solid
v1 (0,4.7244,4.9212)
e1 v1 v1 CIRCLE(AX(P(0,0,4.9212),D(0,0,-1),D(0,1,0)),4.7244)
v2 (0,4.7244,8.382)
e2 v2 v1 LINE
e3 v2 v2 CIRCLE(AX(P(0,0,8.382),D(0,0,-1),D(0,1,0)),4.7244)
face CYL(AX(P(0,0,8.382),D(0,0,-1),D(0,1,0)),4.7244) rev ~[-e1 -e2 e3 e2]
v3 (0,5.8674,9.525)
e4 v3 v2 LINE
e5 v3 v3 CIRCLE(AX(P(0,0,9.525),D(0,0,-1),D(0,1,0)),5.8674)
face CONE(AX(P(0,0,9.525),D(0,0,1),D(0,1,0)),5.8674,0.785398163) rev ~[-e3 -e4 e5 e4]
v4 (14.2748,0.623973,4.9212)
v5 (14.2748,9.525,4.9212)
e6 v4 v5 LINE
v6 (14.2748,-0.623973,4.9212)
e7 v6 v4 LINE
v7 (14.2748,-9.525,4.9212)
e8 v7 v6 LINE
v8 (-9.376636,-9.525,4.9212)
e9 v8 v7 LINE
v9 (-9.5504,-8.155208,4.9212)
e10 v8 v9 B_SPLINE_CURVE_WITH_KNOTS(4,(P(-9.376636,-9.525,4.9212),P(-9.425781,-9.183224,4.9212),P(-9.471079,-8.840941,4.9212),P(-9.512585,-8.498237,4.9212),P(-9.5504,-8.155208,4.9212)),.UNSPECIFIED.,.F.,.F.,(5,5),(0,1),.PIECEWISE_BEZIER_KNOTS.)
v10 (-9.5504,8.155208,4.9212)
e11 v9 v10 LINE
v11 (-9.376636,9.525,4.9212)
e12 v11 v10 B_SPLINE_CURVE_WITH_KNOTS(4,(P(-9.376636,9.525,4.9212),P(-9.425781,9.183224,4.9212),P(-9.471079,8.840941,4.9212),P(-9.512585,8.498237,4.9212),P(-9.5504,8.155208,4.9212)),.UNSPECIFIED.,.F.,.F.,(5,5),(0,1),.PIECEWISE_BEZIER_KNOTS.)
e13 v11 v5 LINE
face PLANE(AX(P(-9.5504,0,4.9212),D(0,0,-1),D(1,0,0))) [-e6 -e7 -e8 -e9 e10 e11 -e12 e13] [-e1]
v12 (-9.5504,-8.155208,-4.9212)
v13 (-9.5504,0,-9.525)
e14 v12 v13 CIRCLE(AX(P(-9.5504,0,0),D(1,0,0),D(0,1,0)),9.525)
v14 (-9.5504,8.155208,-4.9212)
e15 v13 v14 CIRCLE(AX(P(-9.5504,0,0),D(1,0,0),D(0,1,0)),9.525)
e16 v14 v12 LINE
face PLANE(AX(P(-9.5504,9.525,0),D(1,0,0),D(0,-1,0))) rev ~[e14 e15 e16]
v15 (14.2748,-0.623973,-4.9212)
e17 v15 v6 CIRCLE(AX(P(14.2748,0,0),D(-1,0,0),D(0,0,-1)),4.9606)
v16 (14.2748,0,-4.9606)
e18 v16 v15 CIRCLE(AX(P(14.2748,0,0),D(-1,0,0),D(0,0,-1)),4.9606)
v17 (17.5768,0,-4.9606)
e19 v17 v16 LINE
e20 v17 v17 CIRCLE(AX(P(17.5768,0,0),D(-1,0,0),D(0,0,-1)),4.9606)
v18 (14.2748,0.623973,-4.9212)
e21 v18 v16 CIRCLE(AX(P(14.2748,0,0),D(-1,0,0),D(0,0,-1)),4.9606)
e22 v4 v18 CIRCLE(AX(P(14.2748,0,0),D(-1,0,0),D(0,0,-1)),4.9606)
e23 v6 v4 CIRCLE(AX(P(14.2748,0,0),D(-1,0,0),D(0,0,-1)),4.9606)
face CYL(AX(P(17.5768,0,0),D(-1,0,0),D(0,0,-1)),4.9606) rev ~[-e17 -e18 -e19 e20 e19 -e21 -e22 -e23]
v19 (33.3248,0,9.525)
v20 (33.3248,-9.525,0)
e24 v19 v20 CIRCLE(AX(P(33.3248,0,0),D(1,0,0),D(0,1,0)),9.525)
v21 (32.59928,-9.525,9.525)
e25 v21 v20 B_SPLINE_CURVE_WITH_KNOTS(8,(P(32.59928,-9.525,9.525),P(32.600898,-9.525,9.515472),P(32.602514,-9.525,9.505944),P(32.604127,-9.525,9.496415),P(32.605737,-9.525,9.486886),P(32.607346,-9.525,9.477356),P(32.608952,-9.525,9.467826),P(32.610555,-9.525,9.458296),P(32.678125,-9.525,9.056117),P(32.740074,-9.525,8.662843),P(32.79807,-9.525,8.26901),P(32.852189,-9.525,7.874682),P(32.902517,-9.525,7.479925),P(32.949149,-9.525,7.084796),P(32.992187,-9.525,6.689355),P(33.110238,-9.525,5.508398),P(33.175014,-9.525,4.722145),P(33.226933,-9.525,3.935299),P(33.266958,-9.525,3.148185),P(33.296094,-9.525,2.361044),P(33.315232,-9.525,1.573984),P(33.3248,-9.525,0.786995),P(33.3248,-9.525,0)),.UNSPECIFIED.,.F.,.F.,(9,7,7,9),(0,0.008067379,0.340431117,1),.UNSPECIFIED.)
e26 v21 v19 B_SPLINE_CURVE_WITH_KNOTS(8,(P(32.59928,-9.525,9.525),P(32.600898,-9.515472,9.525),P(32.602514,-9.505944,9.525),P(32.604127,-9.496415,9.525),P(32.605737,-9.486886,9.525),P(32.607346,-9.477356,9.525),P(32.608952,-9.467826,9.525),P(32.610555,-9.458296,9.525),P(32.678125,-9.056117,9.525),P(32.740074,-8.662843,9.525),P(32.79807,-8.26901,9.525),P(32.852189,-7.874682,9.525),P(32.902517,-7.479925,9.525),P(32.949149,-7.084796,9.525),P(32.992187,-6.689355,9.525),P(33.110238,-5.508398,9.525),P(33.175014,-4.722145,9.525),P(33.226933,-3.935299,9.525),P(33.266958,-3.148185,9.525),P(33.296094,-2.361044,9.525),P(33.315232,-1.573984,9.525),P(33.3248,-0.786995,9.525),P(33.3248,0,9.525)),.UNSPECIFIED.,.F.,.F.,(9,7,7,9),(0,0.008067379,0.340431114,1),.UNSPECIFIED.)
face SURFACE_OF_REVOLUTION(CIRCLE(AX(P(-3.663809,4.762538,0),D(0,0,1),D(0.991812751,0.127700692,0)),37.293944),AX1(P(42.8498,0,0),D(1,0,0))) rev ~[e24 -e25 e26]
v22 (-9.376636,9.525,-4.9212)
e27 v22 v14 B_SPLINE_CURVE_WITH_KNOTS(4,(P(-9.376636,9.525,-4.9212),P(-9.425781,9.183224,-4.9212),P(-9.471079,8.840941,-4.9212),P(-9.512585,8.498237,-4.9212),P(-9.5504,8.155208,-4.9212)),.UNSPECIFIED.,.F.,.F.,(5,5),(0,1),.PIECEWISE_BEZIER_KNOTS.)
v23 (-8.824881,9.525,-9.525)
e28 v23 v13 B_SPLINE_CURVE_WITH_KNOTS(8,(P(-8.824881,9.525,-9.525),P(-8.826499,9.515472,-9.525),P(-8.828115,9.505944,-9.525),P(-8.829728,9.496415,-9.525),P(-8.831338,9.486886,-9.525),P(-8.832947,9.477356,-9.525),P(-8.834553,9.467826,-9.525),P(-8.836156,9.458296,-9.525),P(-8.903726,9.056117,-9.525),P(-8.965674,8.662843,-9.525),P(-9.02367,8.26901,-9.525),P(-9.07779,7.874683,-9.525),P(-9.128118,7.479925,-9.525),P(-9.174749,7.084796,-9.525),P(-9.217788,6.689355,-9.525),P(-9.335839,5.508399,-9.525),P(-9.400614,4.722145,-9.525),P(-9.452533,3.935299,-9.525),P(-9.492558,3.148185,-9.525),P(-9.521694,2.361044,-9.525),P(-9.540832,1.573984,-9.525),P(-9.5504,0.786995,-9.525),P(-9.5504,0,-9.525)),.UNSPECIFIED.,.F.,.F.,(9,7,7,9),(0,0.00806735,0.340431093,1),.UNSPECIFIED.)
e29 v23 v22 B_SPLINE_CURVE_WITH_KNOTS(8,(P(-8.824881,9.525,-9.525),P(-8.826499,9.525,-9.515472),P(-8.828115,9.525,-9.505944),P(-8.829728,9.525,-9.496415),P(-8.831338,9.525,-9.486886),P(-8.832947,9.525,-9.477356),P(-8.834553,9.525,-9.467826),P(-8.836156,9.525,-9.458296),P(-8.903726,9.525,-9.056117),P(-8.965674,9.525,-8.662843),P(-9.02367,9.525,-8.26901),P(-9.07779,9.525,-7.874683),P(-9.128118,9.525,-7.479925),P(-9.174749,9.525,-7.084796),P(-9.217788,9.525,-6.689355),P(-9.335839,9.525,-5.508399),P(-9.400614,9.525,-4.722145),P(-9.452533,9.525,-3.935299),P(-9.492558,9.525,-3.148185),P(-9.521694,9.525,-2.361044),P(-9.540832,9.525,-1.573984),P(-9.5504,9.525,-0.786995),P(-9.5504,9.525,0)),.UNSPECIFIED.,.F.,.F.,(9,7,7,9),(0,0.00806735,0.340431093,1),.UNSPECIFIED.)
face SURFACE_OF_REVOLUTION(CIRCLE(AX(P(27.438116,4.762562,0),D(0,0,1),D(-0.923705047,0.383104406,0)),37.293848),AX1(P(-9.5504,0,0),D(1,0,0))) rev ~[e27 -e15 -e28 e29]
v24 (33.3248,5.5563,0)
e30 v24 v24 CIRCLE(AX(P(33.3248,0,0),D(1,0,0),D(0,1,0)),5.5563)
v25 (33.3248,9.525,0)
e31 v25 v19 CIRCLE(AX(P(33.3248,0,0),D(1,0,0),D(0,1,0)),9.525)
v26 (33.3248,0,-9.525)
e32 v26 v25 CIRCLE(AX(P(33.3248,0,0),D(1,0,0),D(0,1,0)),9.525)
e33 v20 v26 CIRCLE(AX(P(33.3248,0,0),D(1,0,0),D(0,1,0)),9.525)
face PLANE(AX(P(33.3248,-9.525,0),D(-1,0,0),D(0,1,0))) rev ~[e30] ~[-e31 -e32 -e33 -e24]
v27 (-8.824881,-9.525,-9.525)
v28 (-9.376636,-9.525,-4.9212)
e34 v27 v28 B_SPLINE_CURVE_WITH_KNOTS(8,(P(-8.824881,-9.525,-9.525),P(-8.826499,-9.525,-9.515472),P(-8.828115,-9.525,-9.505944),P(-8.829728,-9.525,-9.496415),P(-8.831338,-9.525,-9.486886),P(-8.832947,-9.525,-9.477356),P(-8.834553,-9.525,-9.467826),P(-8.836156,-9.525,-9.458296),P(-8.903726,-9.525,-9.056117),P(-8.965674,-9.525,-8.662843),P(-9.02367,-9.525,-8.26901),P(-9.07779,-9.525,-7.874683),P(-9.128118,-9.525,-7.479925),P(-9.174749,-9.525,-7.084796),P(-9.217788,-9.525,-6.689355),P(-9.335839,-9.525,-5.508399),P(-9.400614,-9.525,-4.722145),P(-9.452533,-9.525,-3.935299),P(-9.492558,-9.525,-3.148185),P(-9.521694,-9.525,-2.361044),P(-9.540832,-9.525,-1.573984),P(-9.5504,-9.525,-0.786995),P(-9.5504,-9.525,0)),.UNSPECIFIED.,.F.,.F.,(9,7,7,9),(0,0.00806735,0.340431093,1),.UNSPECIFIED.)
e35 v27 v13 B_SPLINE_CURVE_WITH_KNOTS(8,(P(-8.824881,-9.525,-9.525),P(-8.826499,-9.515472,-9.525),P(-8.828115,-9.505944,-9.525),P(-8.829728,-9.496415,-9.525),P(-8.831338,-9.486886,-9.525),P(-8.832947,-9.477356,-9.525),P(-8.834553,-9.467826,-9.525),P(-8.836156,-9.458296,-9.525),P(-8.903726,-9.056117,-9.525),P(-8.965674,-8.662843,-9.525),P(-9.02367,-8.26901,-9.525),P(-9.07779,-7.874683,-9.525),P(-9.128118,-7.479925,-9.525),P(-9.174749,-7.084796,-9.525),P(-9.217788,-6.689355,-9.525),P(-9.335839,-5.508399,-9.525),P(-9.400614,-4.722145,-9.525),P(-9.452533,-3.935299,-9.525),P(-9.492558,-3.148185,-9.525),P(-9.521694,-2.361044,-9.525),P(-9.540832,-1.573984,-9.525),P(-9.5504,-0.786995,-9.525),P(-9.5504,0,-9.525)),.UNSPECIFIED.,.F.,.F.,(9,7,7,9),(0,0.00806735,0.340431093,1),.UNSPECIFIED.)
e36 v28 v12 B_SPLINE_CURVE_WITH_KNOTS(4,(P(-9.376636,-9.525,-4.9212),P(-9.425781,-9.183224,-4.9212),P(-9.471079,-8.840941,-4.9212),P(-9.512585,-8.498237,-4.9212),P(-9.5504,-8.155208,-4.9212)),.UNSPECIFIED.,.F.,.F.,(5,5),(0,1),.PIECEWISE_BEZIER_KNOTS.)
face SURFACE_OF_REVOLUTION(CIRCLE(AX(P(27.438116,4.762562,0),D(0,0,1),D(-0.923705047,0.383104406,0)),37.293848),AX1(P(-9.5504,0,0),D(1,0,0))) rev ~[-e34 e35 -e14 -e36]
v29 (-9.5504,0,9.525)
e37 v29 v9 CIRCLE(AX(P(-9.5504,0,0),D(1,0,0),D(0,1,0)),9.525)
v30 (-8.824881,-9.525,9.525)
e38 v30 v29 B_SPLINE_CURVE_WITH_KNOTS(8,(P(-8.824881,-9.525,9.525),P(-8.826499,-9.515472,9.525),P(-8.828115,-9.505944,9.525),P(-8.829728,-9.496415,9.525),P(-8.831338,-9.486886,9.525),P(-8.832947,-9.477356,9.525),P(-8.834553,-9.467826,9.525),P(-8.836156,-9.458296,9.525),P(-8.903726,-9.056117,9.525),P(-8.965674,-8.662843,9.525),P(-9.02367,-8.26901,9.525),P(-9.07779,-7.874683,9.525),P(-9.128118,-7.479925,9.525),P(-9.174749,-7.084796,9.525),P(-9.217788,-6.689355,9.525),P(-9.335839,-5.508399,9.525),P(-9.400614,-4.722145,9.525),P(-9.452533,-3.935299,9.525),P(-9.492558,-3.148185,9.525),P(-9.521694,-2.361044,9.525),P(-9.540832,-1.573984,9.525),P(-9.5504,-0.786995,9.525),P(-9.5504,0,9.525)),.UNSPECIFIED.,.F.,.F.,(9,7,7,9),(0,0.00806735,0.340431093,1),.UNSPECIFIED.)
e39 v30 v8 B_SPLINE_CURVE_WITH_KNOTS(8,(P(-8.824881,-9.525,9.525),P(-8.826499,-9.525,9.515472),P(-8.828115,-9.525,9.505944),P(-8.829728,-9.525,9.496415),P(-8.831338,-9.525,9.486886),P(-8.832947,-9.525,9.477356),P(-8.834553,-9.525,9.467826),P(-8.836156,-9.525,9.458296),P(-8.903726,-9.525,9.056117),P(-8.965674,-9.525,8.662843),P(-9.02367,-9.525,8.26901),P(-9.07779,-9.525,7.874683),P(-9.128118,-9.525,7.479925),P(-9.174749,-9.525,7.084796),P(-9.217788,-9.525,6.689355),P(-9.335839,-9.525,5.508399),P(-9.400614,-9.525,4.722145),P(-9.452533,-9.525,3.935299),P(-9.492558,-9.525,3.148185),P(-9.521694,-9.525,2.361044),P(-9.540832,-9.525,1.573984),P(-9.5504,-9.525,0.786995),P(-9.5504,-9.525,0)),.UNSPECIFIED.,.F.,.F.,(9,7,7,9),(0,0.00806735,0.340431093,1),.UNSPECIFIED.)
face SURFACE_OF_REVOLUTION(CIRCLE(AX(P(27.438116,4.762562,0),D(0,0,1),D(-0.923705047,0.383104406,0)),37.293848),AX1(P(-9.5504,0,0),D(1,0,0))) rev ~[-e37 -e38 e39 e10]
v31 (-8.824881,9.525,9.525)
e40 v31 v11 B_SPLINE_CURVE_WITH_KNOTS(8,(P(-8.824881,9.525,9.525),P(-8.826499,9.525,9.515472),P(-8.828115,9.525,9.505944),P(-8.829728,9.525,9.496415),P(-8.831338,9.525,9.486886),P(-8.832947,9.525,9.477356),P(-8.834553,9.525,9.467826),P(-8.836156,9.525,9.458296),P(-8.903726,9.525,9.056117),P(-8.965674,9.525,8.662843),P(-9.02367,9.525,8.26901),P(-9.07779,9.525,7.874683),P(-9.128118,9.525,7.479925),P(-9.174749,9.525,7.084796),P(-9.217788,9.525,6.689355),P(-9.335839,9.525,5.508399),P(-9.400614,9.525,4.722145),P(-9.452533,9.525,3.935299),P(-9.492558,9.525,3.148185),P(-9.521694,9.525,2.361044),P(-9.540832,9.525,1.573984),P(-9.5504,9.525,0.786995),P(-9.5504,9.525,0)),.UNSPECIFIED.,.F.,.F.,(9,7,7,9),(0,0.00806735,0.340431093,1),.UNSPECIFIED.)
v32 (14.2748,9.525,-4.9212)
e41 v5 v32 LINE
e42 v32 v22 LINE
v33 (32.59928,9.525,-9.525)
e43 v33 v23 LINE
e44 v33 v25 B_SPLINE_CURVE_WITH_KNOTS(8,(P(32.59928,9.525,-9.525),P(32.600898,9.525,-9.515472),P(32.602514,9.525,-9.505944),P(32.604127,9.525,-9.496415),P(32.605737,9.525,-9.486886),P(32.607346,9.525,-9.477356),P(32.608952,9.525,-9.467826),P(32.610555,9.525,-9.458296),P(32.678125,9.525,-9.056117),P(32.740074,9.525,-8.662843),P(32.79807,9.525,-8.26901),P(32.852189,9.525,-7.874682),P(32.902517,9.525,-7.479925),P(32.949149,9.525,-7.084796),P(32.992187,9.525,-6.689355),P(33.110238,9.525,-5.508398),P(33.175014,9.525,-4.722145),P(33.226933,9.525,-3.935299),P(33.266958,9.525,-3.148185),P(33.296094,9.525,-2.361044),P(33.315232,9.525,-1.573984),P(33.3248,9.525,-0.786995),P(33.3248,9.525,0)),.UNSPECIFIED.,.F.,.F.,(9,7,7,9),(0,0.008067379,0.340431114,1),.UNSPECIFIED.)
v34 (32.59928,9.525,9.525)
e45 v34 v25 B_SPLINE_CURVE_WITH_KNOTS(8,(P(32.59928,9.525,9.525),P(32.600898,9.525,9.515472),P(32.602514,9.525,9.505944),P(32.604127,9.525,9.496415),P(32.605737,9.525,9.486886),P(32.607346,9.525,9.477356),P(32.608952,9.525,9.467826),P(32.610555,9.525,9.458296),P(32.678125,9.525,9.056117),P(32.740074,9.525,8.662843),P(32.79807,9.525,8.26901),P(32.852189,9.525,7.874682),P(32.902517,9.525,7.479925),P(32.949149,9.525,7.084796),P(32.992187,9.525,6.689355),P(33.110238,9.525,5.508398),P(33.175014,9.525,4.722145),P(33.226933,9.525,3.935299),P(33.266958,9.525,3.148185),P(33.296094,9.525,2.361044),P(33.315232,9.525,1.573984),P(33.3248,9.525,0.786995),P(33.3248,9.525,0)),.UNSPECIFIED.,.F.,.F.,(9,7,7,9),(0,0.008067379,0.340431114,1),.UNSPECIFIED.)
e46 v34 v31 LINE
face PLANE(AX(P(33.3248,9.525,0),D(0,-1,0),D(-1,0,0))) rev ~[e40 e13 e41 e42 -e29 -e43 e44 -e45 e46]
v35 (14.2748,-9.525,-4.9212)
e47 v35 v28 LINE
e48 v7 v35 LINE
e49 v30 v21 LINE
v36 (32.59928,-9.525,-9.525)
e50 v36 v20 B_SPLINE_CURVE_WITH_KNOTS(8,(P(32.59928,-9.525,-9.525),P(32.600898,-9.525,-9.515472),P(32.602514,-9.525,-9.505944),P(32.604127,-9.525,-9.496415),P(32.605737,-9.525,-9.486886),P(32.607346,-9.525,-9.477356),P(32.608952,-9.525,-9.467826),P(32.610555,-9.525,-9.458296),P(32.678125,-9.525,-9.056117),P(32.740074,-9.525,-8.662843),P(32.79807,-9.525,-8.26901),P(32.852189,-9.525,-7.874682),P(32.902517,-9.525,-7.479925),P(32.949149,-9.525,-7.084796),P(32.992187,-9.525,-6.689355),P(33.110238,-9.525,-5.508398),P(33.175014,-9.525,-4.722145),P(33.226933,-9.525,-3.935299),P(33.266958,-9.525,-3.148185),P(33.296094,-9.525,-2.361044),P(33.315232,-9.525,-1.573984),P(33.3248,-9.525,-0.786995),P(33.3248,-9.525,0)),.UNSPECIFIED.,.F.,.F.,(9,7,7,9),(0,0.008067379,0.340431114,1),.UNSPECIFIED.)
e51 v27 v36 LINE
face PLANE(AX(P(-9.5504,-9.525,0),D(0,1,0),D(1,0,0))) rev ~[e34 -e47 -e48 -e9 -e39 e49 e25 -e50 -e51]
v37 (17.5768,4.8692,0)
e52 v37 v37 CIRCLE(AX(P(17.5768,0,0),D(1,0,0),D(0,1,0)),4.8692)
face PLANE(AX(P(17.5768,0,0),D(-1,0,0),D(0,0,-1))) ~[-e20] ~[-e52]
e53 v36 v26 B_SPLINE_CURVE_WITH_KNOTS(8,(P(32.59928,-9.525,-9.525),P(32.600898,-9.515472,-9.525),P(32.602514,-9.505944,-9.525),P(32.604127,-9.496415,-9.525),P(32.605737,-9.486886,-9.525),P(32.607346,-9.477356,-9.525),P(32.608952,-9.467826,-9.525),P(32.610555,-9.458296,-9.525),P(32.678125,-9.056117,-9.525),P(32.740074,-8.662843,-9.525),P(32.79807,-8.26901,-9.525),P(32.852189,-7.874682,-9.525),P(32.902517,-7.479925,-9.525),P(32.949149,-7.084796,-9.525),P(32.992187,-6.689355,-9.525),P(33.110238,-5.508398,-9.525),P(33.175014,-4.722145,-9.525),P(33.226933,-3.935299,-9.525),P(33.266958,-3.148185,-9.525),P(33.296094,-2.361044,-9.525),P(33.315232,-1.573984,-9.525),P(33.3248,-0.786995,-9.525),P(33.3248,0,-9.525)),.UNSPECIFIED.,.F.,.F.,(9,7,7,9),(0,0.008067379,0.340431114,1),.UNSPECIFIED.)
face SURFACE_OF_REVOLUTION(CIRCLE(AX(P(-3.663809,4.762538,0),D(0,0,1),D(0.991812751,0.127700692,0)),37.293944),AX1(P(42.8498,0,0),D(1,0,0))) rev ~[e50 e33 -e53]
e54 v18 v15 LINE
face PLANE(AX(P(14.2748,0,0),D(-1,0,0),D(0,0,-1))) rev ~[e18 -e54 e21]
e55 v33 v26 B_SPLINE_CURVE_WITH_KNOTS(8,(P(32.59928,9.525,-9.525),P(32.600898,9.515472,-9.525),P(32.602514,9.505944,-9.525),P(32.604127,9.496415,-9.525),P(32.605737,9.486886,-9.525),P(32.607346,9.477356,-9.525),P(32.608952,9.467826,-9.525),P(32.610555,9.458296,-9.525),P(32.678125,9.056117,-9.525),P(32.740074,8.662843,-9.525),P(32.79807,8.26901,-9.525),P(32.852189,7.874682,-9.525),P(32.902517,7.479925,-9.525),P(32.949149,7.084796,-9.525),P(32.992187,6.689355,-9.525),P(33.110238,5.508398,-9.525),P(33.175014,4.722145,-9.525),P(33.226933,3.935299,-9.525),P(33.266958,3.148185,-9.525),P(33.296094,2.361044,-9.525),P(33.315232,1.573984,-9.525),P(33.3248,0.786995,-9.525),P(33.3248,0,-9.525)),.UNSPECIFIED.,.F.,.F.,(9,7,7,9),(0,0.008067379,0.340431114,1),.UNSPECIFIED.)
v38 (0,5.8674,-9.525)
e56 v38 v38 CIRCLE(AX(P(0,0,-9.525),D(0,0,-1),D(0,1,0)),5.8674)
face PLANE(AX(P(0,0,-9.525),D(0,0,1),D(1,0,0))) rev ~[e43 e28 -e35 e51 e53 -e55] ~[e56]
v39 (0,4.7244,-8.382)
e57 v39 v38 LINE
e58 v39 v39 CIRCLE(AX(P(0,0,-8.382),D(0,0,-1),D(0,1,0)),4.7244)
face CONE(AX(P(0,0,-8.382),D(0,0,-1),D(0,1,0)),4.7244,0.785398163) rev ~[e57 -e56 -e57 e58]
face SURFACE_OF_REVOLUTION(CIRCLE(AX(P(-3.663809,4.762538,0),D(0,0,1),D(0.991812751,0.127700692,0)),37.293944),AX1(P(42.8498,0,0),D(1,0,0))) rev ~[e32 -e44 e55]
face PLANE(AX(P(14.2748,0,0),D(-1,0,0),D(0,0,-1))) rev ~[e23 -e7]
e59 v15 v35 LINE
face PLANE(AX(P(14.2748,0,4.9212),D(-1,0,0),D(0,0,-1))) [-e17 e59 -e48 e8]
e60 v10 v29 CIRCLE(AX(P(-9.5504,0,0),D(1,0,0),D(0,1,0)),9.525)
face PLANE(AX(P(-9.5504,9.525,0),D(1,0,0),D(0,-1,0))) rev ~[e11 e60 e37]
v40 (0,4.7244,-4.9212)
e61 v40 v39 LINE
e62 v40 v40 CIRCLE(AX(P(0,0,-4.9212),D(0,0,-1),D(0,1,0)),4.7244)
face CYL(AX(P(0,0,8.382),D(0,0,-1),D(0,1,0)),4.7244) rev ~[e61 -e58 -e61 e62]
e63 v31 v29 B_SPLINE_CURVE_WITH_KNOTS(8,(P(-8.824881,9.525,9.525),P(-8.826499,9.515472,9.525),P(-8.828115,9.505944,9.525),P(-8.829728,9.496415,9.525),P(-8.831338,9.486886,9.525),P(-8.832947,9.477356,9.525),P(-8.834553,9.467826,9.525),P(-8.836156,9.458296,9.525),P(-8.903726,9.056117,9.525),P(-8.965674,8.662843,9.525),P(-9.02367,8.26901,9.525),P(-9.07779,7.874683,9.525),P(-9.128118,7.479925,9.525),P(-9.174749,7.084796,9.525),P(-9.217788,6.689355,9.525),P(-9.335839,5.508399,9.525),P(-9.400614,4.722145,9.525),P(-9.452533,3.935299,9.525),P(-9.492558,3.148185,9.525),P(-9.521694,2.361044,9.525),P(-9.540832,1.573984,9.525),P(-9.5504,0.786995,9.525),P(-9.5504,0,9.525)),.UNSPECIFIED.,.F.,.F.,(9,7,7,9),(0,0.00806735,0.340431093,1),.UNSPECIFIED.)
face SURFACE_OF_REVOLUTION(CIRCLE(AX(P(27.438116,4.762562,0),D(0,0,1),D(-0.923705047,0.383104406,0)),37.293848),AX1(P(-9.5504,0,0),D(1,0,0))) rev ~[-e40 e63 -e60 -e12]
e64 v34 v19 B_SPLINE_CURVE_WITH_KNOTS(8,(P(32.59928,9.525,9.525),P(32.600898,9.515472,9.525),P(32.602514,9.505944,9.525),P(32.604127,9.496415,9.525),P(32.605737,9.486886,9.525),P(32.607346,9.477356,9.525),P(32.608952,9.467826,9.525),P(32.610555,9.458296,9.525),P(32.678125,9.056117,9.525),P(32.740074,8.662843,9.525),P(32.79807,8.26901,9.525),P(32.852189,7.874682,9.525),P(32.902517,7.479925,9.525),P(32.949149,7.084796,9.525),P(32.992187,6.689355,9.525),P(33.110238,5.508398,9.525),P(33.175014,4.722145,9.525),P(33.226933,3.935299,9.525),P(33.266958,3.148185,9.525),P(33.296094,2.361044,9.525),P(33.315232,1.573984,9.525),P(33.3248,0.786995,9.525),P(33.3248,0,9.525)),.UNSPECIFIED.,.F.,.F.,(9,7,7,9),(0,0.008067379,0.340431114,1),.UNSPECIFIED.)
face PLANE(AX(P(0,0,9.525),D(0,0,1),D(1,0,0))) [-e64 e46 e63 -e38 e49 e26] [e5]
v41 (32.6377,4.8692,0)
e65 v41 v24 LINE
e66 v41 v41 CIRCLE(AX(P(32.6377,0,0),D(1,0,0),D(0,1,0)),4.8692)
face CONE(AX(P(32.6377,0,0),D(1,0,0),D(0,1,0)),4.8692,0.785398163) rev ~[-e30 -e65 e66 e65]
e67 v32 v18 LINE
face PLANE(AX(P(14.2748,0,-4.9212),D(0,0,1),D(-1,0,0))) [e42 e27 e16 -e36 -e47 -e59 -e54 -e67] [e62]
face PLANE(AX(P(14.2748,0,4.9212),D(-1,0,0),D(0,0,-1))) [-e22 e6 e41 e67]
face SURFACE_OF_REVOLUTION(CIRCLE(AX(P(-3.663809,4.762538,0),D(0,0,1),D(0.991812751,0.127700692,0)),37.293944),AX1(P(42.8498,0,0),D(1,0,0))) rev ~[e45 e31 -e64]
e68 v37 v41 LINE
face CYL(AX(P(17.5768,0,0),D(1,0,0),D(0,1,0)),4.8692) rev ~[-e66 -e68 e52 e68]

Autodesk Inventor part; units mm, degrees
sketch "Sketch_1" plane through (0, 0, 0) normal (0, 0, 1) x (1, 0, 0)
  line L0 (-9.5504, -9.525) -> (33.3248, -9.525)
  line L1 (33.3248, -9.525) -> (33.3248, 9.525)
  line L2 (33.3248, 9.525) -> (-9.5504, 9.525)
  line L3 (-9.5504, 9.525) -> (-9.5504, -9.525)
extrude "Extrusion1" add sketch "Sketch_1" along normal mid plane 19.05
sketch "Sketch_2" plane through (0, 0, 0) normal (0, 1, 0) x (-1, 0, 0)
  line L0 (9.5504, 4.9212) -> (-14.2748, 4.9212)
  line L1 (-14.2748, 4.9212) -> (-14.2748, -4.9212)
  line L2 (-14.2748, -4.9212) -> (9.5504, -4.9212)
  line L3 (9.5504, -4.9212) -> (9.5504, 4.9212)
extrude "Extrusion2" cut sketch "Sketch_2" along normal mid plane 19.05
sketch "Sketch_3" plane through (0, 0, 0) normal (0, 0, 1) x (1, 0, 0)
  line L0 (33.3248, 0) -> (17.5768, 0)
  line L1 (17.5768, 0) -> (17.5768, 4.8692)
  line L2 (17.5768, 4.8692) -> (32.6377, 4.8692)
  line L3 (32.6377, 4.8692) -> (33.3248, 5.5563)
  line L4 (33.3248, 5.5563) -> (33.3248, 0)
  line L5 (33.3248, 0) -> (17.5768, 0)
revolve "Revolution1" cut sketch "Sketch_3" angle 360 about axis through (33.3248, 0, 0) along (1, 0, 0)
thread "Thread1" size "7/16-20 UNF" class "2B" standard "ANSI Unified Screw Threads" full length
sketch "Sketch5" plane through (17.5768, 0, 0) normal (1, 0, 0) x (0, 0, -1)
  point P0 (0, 0)
hole "Hole1" at (17.5768, 0, 0) direction (-1, 0, 0) diameter 9.9212 depth 3.302
sketch "Sketch_5" plane through (0, 0, 0) normal (1, 0, 0) x (0, 1, 0)
  line L0 (0, -9.525) -> (0, 9.525)
  line L1 (0, 9.525) -> (5.8674, 9.525)
  line L2 (5.8674, 9.525) -> (4.7244, 8.382)
  line L3 (4.7244, 8.382) -> (4.7244, -8.382)
  line L4 (4.7244, -8.382) -> (5.8674, -9.525)
  line L5 (5.8674, -9.525) -> (0, -9.525)
  line L6 (0, -9.525) -> (0, 9.525)
revolve "Revolution2" cut sketch "Sketch_5" angle 360 about axis through (0, 0, -9.525) along (0, 0, -1)
sketch "Sketch_9" plane through (0, 0, 0) normal (0, 0, 1) x (1, 0, 0)
  line L0 (42.8498, 0) -> (33.3248, 0)
  line L1 (33.3248, 0) -> (33.3248, 9.525)
  arc A0 (33.3248, 9.525) -> (30.7848, 19.05) centre (-3.664, 4.7625) ccw
  line L2 (30.7848, 19.05) -> (42.8498, 19.05)
  line L3 (42.8498, 19.05) -> (42.8498, 0)
  line L4 (42.8498, 0) -> (33.3248, 0)
revolve "Revolution3" cut sketch "Sketch_9" angle 360 about axis through (42.8498, 0, 0) along (1, 0, 0)
sketch "Sketch_10" plane through (0, 0, 0) normal (0, 0, 1) x (1, 0, 0)
  line L0 (-9.5504, 0) -> (-19.0754, 0)
  line L1 (-19.0754, 0) -> (-19.0754, 19.05)
  line L2 (-19.0754, 19.05) -> (-7.0104, 19.05)
  arc A0 (-7.0104, 19.05) -> (-9.5504, 9.525) centre (27.4383, 4.7625) ccw
  line L3 (-9.5504, 9.525) -> (-9.5504, 0)
  line L4 (-9.5504, 0) -> (-19.0754, 0)
revolve "Revolution4" cut sketch "Sketch_10" angle 360 about axis through (-9.5504, 0, 0) along (1, 0, 0)
ref_plane "dummy_XY" through (0, 0, 0) normal (0, 0, 1) x (1, 0, 0)
ref_plane "dummy_YZ" through (0, 0, 0) normal (1, 0, 0) x (0, 1, 0)
ref_plane "dummy_ZX" through (0, 0, 0) normal (0, 1, 0) x (0, 0, 1)
ref_plane "h1_XY" through (-9.5504, 9.525, 0) normal (0, 0, 1) x (1, 0, 0)
ref_plane "h1_YZ" through (-9.5504, 9.525, 0) normal (1, 0, 0) x (0, 1, 0)
ref_plane "h1_ZX" through (-9.5504, 9.525, 0) normal (0, 1, 0) x (0, 0, 1)
ref_plane "h2_XY" through (-9.5504, -9.525, 0) normal (0, 0, 1) x (1, 0, 0)
ref_plane "h2_YZ" through (-9.5504, -9.525, 0) normal (1, 0, 0) x (0, 1, 0)
ref_plane "h2_ZX" through (-9.5504, -9.525, 0) normal (0, 1, 0) x (0, 0, 1)
ref_plane "l1_XY" through (33.3248, 9.525, 0) normal (0, 0, 1) x (1, 0, 0)
ref_plane "l1_YZ" through (33.3248, 9.525, 0) normal (1, 0, 0) x (0, 1, 0)
ref_plane "l1_ZX" through (33.3248, 9.525, 0) normal (0, 1, 0) x (0, 0, 1)
ref_plane "l11_XY" through (33.3248, 9.525, 0) normal (0, 0, 1) x (1, 0, 0)
ref_plane "l11_YZ" through (33.3248, 9.525, 0) normal (1, 0, 0) x (0, 1, 0)
ref_plane "l11_ZX" through (33.3248, 9.525, 0) normal (0, 1, 0) x (0, 0, 1)
ref_plane "l12_XY" through (0, 9.525, 0) normal (0, 0, 1) x (1, 0, 0)
ref_plane "l12_YZ" through (0, 9.525, 0) normal (1, 0, 0) x (0, 1, 0)
ref_plane "l12_ZX" through (0, 9.525, 0) normal (0, 1, 0) x (0, 0, 1)
ref_plane "l2_XY" through (-9.5504, 9.525, 0) normal (0, 0, 1) x (1, 0, 0)
ref_plane "l2_YZ" through (-9.5504, 9.525, 0) normal (1, 0, 0) x (0, 1, 0)
ref_plane "l2_ZX" through (-9.5504, 9.525, 0) normal (0, 1, 0) x (0, 0, 1)
ref_plane "l21_XY" through (33.3248, 0, 0) normal (0, 1, 0) x (1, 0, 0)
ref_plane "l21_YZ" through (33.3248, 0, 0) normal (1, 0, 0) x (0, 0, -1)
ref_plane "l21_ZX" through (33.3248, 0, 0) normal (0, 0, -1) x (0, 1, 0)
ref_plane "l22_XY" through (14.2748, 0, 0) normal (0, 1, 0) x (1, 0, 0)
ref_plane "l22_YZ" through (14.2748, 0, 0) normal (1, 0, 0) x (0, 0, -1)
ref_plane "l22_ZX" through (14.2748, 0, 0) normal (0, 0, -1) x (0, 1, 0)
ref_plane "piston_rod_clevis_XY" through (33.3248, 0, 0) normal (1, 0, 0) x (0, 0, -1)
ref_plane "piston_rod_clevis_YZ" through (33.3248, 0, 0) normal (0, 0, -1) x (0, 1, 0)
ref_plane "piston_rod_clevis_ZX" through (33.3248, 0, 0) normal (0, 1, 0) x (1, 0, 0)
ref_plane "rod_clevis_body_XY" through (0, 0, 0) normal (0, 0, 1) x (1, 0, 0)
ref_plane "rod_clevis_body_YZ" through (0, 0, 0) normal (1, 0, 0) x (0, 1, 0)
ref_plane "rod_clevis_body_ZX" through (0, 0, 0) normal (0, 1, 0) x (0, 0, 1)
ref_plane "th1_XY" through (33.3248, 5.5563, 0) normal (0, 0, 1) x (1, 0, 0)
ref_plane "th1_YZ" through (33.3248, 5.5563, 0) normal (1, 0, 0) x (0, 1, 0)
ref_plane "th1_ZX" through (33.3248, 5.5563, 0) normal (0, 1, 0) x (0, 0, 1)
ref_plane "th2_XY" through (33.3248, -5.5563, 0) normal (0, 0, 1) x (1, 0, 0)
ref_plane "th2_YZ" through (33.3248, -5.5563, 0) normal (1, 0, 0) x (0, 1, 0)
ref_plane "th2_ZX" through (33.3248, -5.5563, 0) normal (0, 1, 0) x (0, 0, 1)
ref_plane "to_cylinder_XY" through (14.2748, 0, 0) normal (1, 0, 0) x (0, 0, -1)
ref_plane "to_cylinder_YZ" through (14.2748, 0, 0) normal (0, 0, -1) x (0, 1, 0)
ref_plane "to_cylinder_ZX" through (14.2748, 0, 0) normal (0, 1, 0) x (1, 0, 0)
ref_plane "w1_XY" through (33.3248, 0, -9.525) normal (0, 1, 0) x (1, 0, 0)
ref_plane "w1_YZ" through (33.3248, 0, -9.525) normal (1, 0, 0) x (0, 0, -1)
ref_plane "w1_ZX" through (33.3248, 0, -9.525) normal (0, 0, -1) x (0, 1, 0)
ref_plane "w11_XY" through (-9.5504, 0, -4.9212) normal (0, 1, 0) x (1, 0, 0)
ref_plane "w11_YZ" through (-9.5504, 0, -4.9212) normal (1, 0, 0) x (0, 0, -1)
ref_plane "w11_ZX" through (-9.5504, 0, -4.9212) normal (0, 0, -1) x (0, 1, 0)
ref_plane "w12_XY" through (-9.5504, 0, 4.9212) normal (0, 1, 0) x (1, 0, 0)
ref_plane "w12_YZ" through (-9.5504, 0, 4.9212) normal (1, 0, 0) x (0, 0, -1)
ref_plane "w12_ZX" through (-9.5504, 0, 4.9212) normal (0, 0, -1) x (0, 1, 0)
ref_plane "w2_XY" through (33.3248, 0, 9.525) normal (0, 1, 0) x (1, 0, 0)
ref_plane "w2_YZ" through (33.3248, 0, 9.525) normal (1, 0, 0) x (0, 0, -1)
ref_plane "w2_ZX" through (33.3248, 0, 9.525) normal (0, 0, -1) x (0, 1, 0)
properties part number "D-14053" material "Steel, Galvanized"
